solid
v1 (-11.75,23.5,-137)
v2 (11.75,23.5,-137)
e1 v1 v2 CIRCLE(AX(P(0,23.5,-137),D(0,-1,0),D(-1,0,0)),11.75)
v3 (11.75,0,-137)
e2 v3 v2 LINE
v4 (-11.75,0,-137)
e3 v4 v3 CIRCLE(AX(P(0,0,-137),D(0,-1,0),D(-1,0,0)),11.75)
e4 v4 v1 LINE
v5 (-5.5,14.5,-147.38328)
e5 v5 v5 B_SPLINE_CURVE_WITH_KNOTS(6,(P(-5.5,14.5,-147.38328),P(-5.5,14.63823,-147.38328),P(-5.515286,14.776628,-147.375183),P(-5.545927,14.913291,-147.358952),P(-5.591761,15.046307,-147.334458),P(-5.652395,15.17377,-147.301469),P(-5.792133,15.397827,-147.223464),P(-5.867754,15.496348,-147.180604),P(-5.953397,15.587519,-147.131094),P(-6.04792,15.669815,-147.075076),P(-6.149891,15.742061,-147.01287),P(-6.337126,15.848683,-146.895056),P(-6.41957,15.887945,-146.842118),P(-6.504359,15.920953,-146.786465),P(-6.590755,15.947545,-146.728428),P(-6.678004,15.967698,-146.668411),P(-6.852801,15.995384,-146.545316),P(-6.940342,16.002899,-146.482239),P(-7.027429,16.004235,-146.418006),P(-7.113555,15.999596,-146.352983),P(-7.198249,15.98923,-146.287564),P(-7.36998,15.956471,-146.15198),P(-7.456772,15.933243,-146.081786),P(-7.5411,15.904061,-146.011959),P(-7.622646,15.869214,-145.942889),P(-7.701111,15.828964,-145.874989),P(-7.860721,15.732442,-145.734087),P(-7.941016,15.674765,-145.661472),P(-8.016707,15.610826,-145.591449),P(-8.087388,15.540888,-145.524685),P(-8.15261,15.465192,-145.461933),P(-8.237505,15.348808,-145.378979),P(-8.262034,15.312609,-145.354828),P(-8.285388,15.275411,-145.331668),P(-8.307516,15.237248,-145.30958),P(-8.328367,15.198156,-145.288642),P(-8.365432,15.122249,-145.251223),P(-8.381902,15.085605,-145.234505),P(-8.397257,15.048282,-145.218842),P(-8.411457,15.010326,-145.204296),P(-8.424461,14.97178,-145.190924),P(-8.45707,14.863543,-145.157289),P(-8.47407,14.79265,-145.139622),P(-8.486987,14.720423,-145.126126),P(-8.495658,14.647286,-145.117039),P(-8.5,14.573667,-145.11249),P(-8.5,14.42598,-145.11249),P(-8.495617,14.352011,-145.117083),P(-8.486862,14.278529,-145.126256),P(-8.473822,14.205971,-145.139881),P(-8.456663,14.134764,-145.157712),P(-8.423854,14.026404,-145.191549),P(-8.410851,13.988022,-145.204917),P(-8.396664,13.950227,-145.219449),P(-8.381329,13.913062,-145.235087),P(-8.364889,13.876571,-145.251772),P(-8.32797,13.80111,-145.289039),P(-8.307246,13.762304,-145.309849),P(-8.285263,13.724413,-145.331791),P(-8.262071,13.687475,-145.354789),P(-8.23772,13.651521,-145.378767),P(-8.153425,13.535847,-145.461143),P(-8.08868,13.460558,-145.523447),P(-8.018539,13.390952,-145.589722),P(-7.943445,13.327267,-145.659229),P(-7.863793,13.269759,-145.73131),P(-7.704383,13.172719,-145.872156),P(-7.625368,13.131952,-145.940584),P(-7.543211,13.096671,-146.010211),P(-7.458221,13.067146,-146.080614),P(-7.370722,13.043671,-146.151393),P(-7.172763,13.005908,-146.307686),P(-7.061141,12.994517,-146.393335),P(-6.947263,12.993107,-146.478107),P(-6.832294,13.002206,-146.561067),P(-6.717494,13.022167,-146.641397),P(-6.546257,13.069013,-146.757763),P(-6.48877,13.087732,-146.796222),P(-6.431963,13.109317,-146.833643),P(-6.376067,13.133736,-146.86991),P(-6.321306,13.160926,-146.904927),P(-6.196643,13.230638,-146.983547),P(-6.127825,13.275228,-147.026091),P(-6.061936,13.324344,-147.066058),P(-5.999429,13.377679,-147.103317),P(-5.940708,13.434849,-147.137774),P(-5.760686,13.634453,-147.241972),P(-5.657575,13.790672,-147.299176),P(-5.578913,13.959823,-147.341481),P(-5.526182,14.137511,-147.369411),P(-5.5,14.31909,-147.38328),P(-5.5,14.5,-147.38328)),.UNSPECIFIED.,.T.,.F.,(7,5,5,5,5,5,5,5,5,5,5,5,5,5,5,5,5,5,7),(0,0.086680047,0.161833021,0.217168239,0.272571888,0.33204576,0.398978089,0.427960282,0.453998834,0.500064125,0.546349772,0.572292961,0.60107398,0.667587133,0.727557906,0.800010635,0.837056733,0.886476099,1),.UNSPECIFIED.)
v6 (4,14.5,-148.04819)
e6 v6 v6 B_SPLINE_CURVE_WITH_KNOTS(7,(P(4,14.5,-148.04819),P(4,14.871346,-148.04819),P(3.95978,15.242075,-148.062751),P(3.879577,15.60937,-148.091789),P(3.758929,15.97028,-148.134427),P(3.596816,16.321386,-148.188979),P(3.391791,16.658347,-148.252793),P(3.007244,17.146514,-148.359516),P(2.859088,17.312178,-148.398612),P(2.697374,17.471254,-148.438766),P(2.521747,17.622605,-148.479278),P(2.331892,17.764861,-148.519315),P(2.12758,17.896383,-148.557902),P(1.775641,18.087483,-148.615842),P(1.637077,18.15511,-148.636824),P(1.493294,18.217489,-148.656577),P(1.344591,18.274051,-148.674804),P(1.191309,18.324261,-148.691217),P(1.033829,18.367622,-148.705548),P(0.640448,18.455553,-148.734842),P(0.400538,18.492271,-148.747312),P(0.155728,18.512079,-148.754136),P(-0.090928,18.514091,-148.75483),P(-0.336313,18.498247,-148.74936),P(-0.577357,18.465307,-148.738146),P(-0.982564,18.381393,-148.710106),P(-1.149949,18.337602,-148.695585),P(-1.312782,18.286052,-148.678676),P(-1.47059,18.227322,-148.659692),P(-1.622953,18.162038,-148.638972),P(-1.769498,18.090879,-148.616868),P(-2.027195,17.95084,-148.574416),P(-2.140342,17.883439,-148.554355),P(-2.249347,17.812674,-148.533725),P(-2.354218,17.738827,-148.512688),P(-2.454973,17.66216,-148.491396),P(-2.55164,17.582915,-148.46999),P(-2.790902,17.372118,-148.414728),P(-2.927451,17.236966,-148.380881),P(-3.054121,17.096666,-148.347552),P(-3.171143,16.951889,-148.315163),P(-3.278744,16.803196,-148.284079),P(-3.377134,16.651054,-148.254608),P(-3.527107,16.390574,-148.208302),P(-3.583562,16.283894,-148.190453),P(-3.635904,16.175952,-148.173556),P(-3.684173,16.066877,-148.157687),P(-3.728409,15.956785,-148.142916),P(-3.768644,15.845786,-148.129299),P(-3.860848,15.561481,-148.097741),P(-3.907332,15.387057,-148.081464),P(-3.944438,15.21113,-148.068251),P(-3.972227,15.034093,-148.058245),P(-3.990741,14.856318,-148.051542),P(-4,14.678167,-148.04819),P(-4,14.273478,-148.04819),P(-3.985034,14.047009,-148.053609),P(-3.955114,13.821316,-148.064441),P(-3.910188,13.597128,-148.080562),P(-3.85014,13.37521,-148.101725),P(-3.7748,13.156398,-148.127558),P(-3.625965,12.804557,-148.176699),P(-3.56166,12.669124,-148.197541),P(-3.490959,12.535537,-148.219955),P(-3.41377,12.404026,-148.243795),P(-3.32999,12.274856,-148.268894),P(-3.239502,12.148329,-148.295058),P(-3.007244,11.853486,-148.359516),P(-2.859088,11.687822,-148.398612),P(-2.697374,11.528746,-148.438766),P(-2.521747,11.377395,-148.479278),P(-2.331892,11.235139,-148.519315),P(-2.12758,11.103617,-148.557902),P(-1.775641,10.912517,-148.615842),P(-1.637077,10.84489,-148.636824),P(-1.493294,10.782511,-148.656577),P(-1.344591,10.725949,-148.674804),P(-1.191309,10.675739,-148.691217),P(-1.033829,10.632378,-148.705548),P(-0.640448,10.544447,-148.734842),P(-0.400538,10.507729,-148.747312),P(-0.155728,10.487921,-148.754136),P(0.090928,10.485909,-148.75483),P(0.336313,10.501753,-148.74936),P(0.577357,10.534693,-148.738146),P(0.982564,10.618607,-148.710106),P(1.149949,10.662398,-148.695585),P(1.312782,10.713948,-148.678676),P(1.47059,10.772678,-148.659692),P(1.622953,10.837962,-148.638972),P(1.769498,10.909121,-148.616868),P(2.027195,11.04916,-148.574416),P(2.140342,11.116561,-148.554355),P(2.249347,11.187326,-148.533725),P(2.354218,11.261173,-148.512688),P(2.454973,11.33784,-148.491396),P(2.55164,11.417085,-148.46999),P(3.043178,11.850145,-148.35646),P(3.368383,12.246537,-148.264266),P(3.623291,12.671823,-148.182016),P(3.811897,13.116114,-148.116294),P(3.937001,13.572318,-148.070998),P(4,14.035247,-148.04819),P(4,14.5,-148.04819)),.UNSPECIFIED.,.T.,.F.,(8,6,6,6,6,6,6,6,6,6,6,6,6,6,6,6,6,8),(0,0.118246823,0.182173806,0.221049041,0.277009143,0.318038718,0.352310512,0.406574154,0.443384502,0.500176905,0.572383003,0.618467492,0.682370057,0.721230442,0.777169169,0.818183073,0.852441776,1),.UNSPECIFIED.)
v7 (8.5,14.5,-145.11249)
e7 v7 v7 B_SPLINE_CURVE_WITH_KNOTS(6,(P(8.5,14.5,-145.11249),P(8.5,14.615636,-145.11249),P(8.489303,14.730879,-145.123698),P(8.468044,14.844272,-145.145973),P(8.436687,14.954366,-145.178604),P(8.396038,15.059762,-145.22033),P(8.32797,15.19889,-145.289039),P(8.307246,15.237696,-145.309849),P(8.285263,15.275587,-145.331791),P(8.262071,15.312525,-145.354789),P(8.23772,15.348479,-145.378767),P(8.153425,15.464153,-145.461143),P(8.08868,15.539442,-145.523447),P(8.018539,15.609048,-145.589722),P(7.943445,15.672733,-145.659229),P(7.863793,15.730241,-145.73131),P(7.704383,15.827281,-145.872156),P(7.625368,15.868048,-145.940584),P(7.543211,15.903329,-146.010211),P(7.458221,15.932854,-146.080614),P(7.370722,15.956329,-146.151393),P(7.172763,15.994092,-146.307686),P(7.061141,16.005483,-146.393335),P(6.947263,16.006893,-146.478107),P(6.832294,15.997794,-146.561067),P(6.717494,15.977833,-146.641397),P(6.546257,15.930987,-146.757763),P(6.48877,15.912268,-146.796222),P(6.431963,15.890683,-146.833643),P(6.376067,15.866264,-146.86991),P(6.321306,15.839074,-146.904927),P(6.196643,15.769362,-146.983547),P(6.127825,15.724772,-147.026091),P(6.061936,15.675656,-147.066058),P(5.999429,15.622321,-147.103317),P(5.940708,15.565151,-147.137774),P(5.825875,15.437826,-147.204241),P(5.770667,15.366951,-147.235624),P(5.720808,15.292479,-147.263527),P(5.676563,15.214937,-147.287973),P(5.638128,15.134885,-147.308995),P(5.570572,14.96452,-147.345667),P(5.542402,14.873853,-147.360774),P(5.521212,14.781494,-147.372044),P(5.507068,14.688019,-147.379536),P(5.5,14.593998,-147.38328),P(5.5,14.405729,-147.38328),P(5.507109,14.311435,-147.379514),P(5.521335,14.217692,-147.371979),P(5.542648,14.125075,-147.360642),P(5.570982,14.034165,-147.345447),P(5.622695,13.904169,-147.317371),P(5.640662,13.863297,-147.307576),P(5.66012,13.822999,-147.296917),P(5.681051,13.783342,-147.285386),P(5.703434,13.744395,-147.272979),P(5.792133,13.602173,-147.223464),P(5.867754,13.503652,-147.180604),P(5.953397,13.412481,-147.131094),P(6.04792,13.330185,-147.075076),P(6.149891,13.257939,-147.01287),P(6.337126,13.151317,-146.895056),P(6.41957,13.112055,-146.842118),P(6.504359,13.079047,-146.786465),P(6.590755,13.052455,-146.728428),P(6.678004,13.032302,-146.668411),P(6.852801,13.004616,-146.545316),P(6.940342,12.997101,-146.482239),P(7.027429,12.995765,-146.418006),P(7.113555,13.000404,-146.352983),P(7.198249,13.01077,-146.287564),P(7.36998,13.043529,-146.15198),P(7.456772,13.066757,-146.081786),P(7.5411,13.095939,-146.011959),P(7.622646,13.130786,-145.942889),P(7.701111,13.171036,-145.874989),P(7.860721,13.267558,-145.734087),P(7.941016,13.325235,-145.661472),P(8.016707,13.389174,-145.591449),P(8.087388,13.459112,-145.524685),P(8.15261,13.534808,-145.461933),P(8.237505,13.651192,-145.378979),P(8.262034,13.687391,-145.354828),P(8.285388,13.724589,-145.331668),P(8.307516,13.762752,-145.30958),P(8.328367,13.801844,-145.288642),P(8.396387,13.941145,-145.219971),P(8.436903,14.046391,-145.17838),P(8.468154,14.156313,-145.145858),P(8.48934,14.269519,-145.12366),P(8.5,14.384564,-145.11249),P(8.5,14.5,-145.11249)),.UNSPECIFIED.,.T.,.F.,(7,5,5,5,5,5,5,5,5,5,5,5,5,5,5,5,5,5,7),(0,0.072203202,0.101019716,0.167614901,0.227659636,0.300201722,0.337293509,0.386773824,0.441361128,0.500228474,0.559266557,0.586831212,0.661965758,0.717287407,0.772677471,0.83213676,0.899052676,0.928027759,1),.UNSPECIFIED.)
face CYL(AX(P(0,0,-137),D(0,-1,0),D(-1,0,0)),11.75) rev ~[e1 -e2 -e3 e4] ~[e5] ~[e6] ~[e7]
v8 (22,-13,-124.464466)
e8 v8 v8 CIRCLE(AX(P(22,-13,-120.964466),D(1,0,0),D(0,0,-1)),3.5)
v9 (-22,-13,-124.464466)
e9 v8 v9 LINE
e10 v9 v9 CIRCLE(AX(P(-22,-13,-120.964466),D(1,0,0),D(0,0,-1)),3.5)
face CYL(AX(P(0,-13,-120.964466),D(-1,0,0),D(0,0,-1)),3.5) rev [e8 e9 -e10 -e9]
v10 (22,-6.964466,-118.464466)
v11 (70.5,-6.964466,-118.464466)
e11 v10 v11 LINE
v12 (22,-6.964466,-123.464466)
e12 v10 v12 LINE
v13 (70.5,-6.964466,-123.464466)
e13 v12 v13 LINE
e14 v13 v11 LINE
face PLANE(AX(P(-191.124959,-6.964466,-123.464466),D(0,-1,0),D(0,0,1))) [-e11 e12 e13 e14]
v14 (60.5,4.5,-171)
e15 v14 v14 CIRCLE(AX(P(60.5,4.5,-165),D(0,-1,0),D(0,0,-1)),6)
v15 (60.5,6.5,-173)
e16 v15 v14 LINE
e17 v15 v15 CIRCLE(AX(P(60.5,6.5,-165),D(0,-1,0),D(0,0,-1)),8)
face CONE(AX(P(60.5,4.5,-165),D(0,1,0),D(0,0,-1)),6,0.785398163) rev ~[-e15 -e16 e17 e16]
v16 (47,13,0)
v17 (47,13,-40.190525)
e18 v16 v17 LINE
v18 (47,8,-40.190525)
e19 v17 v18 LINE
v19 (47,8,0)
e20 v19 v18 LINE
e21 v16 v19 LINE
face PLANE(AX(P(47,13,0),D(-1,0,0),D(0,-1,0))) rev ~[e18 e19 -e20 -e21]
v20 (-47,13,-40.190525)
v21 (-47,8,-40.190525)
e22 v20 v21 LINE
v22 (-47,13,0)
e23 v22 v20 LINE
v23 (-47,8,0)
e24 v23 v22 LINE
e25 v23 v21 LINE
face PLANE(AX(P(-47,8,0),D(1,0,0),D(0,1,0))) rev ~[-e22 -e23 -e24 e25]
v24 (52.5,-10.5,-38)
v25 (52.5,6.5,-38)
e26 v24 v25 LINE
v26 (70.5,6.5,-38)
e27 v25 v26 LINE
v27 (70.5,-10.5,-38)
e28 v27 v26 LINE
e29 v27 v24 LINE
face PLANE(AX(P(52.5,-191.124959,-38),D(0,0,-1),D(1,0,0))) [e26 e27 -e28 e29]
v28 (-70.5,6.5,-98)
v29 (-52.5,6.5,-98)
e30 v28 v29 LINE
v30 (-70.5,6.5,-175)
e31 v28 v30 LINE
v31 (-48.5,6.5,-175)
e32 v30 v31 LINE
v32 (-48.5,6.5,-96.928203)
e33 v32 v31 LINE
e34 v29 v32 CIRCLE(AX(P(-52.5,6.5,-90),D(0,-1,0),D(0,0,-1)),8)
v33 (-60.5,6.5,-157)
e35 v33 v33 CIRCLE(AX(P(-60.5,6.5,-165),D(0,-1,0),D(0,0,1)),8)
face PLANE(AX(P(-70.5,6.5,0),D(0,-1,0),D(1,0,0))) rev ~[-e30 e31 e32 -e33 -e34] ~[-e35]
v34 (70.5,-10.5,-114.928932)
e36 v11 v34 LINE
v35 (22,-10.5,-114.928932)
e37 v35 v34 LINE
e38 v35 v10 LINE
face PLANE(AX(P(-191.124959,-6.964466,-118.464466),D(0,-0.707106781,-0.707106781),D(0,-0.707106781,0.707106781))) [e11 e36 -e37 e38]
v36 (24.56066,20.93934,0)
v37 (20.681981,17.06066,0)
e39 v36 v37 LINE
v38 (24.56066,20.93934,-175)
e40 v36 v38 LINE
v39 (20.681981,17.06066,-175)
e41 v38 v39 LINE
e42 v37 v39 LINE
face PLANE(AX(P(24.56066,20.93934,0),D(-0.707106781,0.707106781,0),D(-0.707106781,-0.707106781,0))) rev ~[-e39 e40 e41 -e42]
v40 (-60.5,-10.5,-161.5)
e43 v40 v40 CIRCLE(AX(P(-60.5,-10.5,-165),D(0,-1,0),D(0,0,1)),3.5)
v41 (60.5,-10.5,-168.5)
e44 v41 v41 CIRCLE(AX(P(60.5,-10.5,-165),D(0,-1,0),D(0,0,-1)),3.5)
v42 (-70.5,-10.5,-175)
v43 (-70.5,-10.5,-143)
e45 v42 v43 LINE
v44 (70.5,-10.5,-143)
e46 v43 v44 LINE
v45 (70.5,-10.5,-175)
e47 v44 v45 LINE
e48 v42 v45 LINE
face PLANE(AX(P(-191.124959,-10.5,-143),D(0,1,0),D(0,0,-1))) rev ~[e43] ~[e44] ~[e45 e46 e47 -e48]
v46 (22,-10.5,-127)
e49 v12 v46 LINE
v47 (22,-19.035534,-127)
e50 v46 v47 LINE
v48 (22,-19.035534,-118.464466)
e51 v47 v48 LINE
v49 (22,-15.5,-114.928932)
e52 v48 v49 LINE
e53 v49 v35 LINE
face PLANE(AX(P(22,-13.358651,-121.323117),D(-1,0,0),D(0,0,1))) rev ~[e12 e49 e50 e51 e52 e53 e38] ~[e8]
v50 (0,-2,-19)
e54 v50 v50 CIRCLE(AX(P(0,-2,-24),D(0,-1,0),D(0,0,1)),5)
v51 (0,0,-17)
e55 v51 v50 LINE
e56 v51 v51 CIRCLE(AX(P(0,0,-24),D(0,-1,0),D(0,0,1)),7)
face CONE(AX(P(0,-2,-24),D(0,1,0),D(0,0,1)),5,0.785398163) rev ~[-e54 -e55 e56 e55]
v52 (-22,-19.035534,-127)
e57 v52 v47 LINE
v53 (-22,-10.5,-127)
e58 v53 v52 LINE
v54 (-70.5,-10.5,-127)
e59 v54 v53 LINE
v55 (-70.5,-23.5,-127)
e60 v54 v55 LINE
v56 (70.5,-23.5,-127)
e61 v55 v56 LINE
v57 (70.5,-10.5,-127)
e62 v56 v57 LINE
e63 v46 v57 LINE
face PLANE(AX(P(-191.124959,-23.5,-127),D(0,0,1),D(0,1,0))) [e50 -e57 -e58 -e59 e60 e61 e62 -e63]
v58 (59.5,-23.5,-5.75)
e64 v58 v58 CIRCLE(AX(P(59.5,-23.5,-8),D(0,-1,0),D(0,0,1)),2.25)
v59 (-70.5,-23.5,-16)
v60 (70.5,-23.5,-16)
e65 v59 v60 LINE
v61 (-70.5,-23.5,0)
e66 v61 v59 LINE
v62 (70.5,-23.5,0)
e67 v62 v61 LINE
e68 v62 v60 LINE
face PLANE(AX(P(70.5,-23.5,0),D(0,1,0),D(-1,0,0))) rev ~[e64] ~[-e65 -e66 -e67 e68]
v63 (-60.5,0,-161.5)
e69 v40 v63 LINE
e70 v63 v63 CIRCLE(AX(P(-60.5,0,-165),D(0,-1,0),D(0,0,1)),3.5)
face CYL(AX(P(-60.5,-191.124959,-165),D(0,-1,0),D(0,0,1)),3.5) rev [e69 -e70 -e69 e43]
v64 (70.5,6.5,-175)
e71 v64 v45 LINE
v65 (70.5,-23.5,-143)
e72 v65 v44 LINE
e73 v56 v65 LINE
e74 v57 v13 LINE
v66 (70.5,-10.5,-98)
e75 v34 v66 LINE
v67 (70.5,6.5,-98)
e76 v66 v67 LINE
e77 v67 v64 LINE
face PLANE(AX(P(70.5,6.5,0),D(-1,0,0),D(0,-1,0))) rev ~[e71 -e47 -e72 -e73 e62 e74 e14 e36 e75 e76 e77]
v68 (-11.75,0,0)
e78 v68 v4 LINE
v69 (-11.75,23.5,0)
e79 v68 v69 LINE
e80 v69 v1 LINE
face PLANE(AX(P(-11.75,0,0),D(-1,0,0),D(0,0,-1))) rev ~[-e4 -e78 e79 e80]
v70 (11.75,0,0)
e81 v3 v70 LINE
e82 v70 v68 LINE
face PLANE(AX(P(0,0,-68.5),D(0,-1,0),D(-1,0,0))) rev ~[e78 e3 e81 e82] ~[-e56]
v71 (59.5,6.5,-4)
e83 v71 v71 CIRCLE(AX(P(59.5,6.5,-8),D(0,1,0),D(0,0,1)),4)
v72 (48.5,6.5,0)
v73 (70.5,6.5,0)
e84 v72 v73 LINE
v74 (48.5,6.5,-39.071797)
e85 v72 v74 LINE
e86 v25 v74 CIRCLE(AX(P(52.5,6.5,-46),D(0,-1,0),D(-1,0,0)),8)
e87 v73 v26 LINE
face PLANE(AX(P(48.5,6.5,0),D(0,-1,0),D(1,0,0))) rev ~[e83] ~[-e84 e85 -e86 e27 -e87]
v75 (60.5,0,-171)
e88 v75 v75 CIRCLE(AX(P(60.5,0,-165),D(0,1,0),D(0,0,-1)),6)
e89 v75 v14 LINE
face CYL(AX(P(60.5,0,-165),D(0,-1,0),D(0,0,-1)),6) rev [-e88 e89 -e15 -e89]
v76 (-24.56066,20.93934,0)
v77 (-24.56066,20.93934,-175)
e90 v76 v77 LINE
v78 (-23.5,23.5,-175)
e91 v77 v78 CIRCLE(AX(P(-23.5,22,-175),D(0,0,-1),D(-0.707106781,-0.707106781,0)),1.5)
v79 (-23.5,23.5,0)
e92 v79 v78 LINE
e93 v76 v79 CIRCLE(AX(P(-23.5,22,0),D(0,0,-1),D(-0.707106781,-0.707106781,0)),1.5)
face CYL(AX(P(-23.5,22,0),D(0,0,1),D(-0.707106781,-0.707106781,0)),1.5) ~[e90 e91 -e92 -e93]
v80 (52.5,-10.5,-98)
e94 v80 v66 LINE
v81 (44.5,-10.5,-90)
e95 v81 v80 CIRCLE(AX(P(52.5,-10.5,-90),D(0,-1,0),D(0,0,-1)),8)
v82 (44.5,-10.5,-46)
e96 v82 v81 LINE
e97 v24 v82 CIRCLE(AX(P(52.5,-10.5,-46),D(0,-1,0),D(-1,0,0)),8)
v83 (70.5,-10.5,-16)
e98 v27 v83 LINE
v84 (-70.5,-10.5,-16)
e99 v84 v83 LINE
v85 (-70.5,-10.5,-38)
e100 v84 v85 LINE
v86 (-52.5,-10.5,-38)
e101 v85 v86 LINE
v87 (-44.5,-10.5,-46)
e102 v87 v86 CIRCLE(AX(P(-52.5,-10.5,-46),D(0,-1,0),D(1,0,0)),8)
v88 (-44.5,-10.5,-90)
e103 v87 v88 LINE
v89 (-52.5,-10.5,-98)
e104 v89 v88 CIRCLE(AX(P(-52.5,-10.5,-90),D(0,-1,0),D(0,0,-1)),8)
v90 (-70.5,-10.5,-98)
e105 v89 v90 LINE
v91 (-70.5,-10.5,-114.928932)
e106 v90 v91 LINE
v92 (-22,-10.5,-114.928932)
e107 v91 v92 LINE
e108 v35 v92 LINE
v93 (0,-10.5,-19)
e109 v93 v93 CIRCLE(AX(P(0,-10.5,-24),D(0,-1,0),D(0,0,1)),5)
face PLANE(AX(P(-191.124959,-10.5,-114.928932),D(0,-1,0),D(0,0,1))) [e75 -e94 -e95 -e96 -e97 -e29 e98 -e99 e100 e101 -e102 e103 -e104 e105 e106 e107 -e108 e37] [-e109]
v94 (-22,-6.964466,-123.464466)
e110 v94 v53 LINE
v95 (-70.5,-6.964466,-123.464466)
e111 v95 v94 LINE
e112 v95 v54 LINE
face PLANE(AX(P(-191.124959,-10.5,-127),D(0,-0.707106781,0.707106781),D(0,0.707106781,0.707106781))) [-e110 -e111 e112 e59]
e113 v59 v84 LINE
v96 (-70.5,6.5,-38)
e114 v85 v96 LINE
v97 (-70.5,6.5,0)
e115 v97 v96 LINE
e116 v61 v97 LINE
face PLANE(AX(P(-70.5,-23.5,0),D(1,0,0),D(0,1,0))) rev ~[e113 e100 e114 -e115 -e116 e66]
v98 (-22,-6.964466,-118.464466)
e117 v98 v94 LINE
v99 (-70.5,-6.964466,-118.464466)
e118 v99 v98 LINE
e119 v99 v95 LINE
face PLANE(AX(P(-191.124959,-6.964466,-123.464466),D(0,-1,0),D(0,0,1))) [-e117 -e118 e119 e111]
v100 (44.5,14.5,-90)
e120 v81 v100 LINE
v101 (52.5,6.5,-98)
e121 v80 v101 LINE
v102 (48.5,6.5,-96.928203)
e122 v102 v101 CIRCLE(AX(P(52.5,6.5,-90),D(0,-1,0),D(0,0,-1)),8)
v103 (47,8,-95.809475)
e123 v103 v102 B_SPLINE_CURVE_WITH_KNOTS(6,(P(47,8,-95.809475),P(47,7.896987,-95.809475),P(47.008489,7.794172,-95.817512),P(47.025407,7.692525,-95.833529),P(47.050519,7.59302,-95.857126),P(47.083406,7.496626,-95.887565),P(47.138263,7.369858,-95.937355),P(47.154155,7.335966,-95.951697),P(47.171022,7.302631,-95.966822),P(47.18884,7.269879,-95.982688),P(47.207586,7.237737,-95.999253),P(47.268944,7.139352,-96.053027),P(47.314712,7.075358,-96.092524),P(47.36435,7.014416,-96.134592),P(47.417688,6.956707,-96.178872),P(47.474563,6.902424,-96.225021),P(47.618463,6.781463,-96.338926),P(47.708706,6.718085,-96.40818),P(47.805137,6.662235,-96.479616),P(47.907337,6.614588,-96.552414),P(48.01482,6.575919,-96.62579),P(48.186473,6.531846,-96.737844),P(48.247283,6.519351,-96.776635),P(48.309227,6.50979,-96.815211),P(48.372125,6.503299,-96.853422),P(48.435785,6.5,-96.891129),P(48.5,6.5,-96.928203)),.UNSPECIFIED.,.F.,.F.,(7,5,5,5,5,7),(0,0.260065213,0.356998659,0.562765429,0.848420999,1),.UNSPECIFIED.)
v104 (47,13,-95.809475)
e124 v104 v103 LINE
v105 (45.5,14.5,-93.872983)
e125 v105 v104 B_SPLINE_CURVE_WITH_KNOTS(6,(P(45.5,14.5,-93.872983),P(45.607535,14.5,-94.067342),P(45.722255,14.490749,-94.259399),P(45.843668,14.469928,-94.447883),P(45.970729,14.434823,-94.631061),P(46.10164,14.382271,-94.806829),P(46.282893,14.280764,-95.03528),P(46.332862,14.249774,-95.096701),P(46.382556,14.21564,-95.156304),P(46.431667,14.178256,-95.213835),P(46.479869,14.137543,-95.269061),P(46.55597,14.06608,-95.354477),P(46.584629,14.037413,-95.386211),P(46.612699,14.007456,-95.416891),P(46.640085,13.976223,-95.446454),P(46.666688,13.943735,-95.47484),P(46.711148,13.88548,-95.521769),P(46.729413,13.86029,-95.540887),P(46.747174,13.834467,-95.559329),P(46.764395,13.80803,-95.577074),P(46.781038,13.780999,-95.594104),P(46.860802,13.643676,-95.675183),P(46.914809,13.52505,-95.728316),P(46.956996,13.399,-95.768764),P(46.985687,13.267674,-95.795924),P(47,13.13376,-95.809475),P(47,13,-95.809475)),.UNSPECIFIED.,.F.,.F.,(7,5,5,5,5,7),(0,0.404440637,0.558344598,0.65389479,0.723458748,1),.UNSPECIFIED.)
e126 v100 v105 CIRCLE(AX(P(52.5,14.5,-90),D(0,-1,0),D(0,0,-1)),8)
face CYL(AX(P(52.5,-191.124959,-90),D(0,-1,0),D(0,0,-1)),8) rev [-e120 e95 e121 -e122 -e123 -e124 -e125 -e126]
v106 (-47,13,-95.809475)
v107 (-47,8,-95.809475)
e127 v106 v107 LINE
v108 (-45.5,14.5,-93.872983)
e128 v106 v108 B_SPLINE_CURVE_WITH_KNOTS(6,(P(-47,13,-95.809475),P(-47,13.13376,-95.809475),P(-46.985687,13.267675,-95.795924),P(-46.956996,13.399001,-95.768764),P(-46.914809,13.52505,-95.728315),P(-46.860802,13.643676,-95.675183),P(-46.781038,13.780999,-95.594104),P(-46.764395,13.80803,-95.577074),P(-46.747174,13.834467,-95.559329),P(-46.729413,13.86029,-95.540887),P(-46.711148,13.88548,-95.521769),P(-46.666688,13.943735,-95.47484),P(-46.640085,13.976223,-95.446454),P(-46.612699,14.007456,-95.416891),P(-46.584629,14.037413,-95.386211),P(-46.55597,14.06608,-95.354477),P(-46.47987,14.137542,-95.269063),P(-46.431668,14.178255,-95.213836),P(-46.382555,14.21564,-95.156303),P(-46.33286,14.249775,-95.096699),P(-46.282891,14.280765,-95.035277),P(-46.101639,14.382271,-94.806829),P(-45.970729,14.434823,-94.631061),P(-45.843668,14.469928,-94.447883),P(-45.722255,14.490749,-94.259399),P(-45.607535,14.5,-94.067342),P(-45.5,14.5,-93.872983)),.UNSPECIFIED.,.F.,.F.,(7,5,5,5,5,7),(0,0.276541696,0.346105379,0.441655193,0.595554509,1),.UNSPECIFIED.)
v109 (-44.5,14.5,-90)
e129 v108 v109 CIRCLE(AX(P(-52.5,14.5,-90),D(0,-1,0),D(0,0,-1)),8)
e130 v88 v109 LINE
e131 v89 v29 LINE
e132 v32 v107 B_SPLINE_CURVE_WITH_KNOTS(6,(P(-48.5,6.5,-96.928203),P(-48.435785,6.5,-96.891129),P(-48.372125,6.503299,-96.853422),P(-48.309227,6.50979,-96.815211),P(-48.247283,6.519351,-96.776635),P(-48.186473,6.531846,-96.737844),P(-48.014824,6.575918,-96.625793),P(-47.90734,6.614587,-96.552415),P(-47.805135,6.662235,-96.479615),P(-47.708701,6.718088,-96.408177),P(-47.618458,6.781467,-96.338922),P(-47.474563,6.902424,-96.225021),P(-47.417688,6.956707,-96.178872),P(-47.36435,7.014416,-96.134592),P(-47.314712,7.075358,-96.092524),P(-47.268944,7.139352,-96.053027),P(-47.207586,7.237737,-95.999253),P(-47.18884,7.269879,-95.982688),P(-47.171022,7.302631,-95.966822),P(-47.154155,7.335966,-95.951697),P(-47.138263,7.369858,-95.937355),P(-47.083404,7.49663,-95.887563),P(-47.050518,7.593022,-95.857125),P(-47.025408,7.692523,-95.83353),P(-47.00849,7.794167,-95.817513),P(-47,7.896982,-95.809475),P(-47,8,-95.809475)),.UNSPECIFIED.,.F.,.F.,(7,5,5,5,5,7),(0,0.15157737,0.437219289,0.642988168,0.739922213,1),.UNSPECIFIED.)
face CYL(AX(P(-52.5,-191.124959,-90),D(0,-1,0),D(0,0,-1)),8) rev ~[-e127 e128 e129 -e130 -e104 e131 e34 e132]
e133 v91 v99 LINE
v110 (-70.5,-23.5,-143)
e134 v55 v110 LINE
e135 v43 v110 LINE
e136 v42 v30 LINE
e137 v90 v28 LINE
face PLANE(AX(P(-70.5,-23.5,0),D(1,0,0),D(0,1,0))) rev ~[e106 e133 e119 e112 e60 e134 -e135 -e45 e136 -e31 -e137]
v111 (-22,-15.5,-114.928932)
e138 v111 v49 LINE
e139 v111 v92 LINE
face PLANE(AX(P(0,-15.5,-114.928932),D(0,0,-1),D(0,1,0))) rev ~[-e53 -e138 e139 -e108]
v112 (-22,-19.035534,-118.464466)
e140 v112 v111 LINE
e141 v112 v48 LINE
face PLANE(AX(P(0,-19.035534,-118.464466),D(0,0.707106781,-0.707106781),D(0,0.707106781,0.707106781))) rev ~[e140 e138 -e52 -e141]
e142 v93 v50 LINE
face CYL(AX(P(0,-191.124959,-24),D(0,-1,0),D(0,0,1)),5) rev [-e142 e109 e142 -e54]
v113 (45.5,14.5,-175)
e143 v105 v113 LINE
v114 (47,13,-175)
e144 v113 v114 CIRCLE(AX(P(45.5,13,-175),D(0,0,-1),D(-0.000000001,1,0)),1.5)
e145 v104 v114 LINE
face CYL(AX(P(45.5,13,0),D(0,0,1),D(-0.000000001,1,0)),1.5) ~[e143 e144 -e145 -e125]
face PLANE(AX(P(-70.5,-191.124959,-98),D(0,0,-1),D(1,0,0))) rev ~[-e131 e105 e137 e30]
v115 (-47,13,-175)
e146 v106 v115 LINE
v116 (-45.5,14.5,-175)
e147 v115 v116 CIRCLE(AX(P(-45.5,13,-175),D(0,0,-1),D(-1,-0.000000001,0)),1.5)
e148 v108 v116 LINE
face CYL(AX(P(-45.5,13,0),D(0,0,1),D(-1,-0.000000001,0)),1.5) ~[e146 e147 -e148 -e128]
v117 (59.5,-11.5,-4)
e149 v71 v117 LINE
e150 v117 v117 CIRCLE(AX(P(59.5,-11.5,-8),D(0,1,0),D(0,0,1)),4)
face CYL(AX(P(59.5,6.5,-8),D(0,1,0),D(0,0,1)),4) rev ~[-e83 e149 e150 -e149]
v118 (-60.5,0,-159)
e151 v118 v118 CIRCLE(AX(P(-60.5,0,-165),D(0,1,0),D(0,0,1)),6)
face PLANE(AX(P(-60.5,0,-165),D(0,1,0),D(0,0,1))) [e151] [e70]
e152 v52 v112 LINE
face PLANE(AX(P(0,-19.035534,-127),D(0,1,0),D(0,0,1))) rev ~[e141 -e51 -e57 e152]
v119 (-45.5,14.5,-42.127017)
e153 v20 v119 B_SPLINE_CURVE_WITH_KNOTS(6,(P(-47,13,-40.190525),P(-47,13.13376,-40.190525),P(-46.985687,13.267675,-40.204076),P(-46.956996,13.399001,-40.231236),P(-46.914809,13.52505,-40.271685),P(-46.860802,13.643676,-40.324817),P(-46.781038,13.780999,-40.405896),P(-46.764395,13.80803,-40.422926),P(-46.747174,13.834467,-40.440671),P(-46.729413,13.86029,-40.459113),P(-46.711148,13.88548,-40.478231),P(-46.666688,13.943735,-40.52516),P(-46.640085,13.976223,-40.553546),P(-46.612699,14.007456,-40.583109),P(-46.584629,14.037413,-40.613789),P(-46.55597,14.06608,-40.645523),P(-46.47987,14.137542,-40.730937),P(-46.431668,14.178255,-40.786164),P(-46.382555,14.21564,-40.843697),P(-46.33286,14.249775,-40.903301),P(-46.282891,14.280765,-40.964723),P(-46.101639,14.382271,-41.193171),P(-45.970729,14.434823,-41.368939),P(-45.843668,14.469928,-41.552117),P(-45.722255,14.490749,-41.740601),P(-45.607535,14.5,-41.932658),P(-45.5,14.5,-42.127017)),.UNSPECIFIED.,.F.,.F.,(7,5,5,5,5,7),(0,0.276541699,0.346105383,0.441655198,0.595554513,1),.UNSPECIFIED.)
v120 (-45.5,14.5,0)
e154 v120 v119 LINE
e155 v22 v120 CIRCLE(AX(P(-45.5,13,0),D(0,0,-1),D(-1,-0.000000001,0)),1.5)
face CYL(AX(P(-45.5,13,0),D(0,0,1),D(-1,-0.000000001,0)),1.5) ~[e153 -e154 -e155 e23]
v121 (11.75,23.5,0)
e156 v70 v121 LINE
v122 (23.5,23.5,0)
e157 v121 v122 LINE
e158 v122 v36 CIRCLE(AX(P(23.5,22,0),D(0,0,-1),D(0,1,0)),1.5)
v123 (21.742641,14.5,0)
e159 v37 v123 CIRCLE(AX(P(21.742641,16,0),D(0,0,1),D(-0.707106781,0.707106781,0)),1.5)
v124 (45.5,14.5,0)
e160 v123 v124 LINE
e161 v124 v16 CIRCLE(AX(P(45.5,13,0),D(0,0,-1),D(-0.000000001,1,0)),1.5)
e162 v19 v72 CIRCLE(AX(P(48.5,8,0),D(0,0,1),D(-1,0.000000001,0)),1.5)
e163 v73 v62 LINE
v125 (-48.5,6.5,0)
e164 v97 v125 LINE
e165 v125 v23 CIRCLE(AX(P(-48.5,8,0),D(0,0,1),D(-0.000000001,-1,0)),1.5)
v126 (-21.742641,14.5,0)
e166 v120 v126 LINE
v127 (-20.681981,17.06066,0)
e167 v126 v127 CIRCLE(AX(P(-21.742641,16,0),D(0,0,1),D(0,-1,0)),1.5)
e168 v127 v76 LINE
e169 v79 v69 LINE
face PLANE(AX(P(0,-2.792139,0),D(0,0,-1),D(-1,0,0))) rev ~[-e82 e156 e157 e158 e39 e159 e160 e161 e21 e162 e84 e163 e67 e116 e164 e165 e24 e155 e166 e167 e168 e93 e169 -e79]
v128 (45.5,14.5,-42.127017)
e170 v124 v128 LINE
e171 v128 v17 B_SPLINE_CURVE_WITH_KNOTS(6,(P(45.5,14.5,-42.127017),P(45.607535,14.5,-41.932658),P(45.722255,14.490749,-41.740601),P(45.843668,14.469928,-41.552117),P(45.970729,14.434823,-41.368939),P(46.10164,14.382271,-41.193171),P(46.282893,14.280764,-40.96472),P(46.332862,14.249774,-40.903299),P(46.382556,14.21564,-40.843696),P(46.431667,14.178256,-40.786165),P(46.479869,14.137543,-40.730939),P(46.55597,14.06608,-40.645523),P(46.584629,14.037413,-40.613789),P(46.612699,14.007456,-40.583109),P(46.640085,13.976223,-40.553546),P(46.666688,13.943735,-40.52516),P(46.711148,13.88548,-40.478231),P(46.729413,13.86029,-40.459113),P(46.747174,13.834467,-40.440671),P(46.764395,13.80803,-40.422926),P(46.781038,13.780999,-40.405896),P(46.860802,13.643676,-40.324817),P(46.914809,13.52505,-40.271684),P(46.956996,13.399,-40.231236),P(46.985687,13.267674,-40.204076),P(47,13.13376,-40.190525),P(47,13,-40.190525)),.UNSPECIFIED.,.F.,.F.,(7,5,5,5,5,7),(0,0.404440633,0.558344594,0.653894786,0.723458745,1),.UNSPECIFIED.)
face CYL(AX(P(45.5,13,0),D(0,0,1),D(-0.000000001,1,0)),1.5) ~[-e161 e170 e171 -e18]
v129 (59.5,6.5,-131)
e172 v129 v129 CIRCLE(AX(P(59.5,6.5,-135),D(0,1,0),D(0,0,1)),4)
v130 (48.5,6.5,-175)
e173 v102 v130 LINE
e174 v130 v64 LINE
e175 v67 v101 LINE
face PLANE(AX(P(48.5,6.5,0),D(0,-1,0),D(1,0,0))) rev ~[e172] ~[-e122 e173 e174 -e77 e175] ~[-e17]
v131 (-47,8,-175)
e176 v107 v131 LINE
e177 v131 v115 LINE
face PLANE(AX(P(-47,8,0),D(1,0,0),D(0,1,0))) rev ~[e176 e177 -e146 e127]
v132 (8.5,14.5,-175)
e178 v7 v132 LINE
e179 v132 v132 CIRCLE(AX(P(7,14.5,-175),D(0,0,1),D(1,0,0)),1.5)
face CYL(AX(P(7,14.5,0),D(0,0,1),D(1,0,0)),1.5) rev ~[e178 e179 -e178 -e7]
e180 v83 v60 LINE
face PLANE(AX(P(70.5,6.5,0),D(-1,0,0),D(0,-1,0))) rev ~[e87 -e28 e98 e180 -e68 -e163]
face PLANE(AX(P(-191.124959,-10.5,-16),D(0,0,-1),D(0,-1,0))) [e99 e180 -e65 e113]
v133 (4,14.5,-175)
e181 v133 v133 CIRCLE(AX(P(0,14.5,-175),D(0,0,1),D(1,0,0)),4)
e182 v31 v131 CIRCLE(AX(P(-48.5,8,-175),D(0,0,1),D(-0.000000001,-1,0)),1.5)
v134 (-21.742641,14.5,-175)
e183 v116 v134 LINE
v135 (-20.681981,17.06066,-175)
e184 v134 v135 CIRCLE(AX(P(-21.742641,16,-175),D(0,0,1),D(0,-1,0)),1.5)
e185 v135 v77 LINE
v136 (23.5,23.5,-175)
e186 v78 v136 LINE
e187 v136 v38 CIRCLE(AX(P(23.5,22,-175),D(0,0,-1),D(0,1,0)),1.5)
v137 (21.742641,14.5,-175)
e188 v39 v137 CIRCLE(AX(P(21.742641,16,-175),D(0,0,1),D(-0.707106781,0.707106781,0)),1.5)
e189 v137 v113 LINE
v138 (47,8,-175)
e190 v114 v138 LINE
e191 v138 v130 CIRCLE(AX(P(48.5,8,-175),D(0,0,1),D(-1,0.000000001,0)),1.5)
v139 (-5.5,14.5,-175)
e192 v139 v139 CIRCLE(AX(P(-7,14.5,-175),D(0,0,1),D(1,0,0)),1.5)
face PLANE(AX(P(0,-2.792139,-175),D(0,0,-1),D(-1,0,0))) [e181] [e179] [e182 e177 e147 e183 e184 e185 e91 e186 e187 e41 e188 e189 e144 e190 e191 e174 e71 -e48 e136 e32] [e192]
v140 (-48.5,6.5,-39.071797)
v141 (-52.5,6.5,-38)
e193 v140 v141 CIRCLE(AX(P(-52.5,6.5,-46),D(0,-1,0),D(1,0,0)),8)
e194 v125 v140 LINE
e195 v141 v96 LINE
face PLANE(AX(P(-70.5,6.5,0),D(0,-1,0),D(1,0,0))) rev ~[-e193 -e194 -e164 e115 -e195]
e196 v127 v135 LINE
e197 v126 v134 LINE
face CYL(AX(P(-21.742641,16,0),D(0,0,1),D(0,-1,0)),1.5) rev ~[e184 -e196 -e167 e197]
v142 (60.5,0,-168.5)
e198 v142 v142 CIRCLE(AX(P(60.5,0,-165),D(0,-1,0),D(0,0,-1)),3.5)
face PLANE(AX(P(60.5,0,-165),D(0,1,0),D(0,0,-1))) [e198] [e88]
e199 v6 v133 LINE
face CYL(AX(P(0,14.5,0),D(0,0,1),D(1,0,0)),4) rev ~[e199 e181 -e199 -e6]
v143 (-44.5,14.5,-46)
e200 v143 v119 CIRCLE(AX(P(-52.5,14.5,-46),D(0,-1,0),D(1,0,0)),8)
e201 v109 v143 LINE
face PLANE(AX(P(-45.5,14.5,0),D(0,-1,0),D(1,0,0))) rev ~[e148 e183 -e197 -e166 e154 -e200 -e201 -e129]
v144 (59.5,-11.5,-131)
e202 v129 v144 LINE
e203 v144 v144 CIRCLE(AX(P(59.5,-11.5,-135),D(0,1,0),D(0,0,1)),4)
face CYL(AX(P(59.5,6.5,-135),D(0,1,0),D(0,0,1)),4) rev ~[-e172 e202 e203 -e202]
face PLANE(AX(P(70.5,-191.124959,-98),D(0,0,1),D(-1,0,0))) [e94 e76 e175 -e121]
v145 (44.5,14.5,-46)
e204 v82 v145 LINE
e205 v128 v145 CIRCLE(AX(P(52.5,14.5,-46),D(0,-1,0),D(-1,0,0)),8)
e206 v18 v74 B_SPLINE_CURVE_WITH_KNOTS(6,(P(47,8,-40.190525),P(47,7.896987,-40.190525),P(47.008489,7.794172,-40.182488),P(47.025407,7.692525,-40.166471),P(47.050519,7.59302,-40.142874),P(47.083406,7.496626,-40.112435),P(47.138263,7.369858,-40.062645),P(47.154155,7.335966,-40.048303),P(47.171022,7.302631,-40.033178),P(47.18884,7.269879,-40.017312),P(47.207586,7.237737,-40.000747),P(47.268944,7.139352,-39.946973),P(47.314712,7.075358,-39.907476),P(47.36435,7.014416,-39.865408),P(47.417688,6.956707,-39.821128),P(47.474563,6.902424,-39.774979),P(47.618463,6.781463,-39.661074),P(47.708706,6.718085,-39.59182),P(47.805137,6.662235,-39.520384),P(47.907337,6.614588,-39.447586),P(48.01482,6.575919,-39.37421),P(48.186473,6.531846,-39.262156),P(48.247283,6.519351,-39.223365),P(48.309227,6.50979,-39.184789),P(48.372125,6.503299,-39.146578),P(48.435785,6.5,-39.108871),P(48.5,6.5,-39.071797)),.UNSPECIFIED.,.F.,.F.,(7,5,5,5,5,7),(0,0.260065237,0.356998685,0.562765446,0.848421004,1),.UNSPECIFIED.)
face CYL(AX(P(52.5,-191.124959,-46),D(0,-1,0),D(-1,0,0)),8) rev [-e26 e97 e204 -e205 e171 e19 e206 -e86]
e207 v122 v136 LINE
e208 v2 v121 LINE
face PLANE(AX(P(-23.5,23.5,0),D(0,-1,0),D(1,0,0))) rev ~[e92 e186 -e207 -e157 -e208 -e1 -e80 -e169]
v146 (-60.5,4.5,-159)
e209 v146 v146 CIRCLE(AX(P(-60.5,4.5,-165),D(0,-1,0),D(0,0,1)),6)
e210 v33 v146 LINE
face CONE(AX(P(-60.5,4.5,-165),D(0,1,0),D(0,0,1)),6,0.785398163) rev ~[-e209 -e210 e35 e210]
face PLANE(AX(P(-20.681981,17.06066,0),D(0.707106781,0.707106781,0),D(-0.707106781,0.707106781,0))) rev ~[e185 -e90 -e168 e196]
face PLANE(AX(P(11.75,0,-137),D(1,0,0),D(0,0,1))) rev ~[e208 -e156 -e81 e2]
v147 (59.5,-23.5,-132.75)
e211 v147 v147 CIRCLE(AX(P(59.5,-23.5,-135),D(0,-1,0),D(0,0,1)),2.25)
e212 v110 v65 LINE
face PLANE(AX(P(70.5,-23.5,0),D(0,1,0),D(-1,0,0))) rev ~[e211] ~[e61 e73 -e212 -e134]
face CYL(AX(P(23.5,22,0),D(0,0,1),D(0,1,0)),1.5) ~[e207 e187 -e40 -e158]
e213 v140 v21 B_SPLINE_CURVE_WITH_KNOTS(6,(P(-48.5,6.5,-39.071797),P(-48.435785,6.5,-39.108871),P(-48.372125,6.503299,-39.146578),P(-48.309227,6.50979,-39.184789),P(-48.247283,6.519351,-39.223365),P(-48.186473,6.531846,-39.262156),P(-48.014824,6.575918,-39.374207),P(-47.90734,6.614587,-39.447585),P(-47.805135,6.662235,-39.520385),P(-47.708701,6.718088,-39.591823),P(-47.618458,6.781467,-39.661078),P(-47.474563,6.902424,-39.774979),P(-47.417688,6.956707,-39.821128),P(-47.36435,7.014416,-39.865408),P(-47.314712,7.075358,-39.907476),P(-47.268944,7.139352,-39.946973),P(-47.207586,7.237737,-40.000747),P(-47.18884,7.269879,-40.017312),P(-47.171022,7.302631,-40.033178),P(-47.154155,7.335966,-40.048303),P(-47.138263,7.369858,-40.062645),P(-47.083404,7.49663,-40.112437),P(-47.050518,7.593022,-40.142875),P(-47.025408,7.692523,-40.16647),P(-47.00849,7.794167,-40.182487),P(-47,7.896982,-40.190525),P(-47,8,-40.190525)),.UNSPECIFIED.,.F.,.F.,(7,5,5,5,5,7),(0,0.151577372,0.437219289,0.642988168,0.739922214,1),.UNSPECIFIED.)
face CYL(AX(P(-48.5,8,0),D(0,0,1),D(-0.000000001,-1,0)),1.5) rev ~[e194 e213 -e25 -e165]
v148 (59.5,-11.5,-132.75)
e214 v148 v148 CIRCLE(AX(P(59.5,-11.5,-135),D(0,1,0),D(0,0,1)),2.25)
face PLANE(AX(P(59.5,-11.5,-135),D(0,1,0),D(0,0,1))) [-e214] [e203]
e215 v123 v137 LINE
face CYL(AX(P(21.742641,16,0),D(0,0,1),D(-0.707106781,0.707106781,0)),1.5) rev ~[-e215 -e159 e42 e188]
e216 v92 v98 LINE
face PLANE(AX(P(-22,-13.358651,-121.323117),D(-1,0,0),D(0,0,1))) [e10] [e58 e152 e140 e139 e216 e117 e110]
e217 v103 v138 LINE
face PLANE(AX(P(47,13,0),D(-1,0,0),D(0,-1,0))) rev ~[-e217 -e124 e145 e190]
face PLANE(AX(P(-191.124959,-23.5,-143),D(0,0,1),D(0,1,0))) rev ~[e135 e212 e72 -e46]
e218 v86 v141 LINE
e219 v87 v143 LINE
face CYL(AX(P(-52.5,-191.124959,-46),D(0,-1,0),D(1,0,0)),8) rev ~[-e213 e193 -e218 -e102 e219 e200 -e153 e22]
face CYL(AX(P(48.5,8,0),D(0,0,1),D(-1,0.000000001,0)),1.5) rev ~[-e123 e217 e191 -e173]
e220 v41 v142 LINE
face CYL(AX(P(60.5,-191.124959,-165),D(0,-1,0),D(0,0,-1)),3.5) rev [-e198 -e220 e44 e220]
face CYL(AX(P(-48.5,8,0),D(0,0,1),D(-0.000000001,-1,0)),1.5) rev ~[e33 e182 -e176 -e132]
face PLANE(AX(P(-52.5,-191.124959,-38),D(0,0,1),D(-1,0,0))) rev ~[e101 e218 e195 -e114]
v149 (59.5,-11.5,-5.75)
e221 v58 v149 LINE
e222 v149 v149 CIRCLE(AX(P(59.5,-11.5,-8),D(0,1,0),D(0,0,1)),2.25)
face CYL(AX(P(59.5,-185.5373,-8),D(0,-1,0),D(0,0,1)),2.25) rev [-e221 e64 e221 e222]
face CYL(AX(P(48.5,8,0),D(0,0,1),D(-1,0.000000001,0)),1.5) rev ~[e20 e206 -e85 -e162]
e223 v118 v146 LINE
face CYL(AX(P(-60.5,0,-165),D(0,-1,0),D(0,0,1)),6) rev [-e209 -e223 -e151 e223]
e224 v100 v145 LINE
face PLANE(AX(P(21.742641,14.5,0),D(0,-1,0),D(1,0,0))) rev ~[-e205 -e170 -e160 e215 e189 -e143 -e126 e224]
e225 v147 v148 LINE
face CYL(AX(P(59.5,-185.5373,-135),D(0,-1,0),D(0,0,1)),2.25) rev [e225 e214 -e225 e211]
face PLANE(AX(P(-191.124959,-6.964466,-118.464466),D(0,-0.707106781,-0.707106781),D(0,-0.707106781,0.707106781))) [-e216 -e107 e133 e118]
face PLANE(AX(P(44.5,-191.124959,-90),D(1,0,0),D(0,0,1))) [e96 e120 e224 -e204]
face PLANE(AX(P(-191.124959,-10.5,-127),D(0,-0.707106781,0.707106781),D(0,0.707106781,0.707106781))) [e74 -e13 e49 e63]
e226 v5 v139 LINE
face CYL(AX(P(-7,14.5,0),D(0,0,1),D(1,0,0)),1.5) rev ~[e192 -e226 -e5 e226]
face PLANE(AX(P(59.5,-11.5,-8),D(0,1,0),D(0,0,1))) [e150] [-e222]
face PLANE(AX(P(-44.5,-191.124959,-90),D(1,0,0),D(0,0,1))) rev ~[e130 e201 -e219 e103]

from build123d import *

# Parameters (mm, degrees)
SKETCH1_R               = 4
SKETCH1_R_2             = 1.5
BOSS_EXTRUDE1_DEPTH     = 175
SKETCH2_R               = 6
CUT_EXTRUDE1_DEPTH      = 191.124958909
CUT_EXTRUDE2_DEPTH      = 191.124959013
CUT_EXTRUDE2_DEPTH_BACK = 191.124959013
SKETCH3_R               = 3.5
SKETCH3_R_2             = 5
CUT_EXTRUDE3_DEPTH      = 191.124959013
CUT_EXTRUDE3_DEPTH_BACK = 191.124959013
SKETCH4_W               = 32
SKETCH4_H               = 13
CHAMFER1_SIZE           = 2
SKETCH5_R               = 3.5
BOSS_EXTRUDE2_DEPTH     = 22
SKETCH6_R               = 4
SKETCH6_R_2             = 2.25
CUT_EXTRUDE4_DEPTH      = 18
CUT_EXTRUDE5_DEPTH      = 192.037300114
CUT_EXTRUDE5_DEPTH_BACK = 192.037300114
SKETCH6_2_R             = 2.25


with BuildPart() as part:
    # Sketch1 → Boss-Extrude1 (new body)
    with BuildSketch(Plane.XY):
        with BuildLine():
            Line((24.560660172, 20.939339828), (20.681980515, 17.060660172))
            ThreePointArc((20.681980515, 17.060660172), (20.356821388, 15.425974851), (21.742640687, 14.5))
            Line((21.742640687, 14.5), (45.5, 14.5))
            ThreePointArc((45.5, 14.5), (46.560660172, 14.060660172), (47, 13))
            Line((47, 13), (47, 8))
            ThreePointArc((47, 8), (47.439339828, 6.939339828), (48.5, 6.5))
            Line((48.5, 6.5), (70.5, 6.5))
            Line((70.5, 6.5), (70.5, -23.5))
            Line((70.5, -23.5), (-70.5, -23.5))
            Line((-70.5, -23.5), (-70.5, 6.5))
            Line((-70.5, 6.5), (-48.5, 6.5))
            ThreePointArc((-48.5, 6.5), (-47.439339828, 6.939339828), (-47, 8))
            Line((-47, 8), (-47, 13))
            ThreePointArc((-47, 13), (-46.560660172, 14.060660172), (-45.5, 14.5))
            Line((-45.5, 14.5), (-21.742640687, 14.5))
            ThreePointArc((-21.742640687, 14.5), (-20.356821388, 15.425974851), (-20.681980515, 17.060660172))
            Line((-20.681980515, 17.060660172), (-24.560660172, 20.939339828))
            ThreePointArc((-24.560660172, 20.939339828), (-24.885819299, 22.574025149), (-23.5, 23.5))
            Line((-23.5, 23.5), (23.5, 23.5))
            ThreePointArc((23.5, 23.5), (24.885819299, 22.574025149), (24.560660172, 20.939339828))
        make_face()
        with Locations((0, 14.5)):
            Circle(SKETCH1_R, mode=Mode.SUBTRACT)
        with Locations((7, 14.5)):
            Circle(SKETCH1_R_2, mode=Mode.SUBTRACT)
        with Locations((-7, 14.5)):
            Circle(SKETCH1_R_2, mode=Mode.SUBTRACT)
    extrude(amount=-BOSS_EXTRUDE1_DEPTH)

    # Sketch2 → Cut-Extrude1 (cut, through all)
    with BuildSketch(Plane(origin=(0, 0, 0), x_dir=(1, 0, 0), z_dir=(0, 1, 0))):
        with Locations((-60.5, 165)):
            Circle(SKETCH2_R)
        with Locations((60.5, 165)):
            Circle(SKETCH2_R)
        with BuildLine():
            Line((-11.75, 0), (-11.75, 137))
            ThreePointArc((-11.75, 137), (0, 148.75), (11.75, 137))
            Line((11.75, 137), (11.75, 0))
            ThreePointArc((11.75, 0), (0, -11.75), (-11.75, 0))
        make_face()
    extrude(amount=CUT_EXTRUDE1_DEPTH, mode=Mode.SUBTRACT)

    # Sketch3 → Cut-Extrude2 (cut, two sides: drawn at the far end of the back side and taken through both)
    with BuildSketch(Plane(origin=(0, 0, 0), x_dir=(1, 0, 0), z_dir=(0, 1, 0)).offset(-CUT_EXTRUDE2_DEPTH_BACK)):
        with Locations((-60.5, 165)):
            Circle(SKETCH3_R)
        with Locations((0, 24)):
            Circle(SKETCH3_R_2)
        with Locations((60.5, 165)):
            Circle(SKETCH3_R)
        with BuildLine():
            Line((-70.5, 98), (-52.5, 98))
            ThreePointArc((-52.5, 98), (-46.843145751, 95.656854249), (-44.5, 90))
            Line((-44.5, 90), (-44.5, 46))
            ThreePointArc((-44.5, 46), (-46.843145751, 40.343145751), (-52.5, 38))
            Line((-52.5, 38), (-70.5, 38))
            Line((-70.5, 38), (-70.5, 98))
        make_face()
        with BuildLine():
            Line((70.5, 38), (70.5, 98))
            Line((70.5, 98), (52.5, 98))
            ThreePointArc((52.5, 98), (46.843145751, 95.656854249), (44.5, 90))
            Line((44.5, 90), (44.5, 46))
            ThreePointArc((44.5, 46), (46.843145751, 40.343145751), (52.5, 38))
            Line((52.5, 38), (70.5, 38))
        make_face()
    extrude(amount=CUT_EXTRUDE2_DEPTH + CUT_EXTRUDE2_DEPTH_BACK, mode=Mode.SUBTRACT)

    # Sketch4 → Cut-Extrude3 (cut, two sides: drawn at the far end of the back side and taken through both)
    with BuildSketch(Plane(origin=(0, 0, 0), x_dir=(0, 0, -1), z_dir=(1, 0, 0)).offset(-CUT_EXTRUDE3_DEPTH_BACK)):
        with Locations((159, -17)):
            Rectangle(SKETCH4_W, SKETCH4_H)
        Polygon((127, -23.5), (127, -10.5), (123.464466094, -6.964466094), (118.464466094, -6.964466094), (114.928932188, -10.5), (16, -10.5), (16, -23.5), align=None)
    extrude(amount=CUT_EXTRUDE3_DEPTH + CUT_EXTRUDE3_DEPTH_BACK, mode=Mode.SUBTRACT)

    # Chamfer1
    chamfer1_edges = [part.edges().sort_by_distance(p)[0] for p in [
        (-5, 0, -24),
        (-66.5, 6.5, -165),
        (54.5, 6.5, -165),
    ]]
    chamfer(chamfer1_edges, length=CHAMFER1_SIZE)

    # Sketch5 → Boss-Extrude2 (add, symmetric)
    with BuildSketch(Plane(origin=(0, 0, 0), x_dir=(0, 0, -1), z_dir=(1, 0, 0))):
        Polygon((118.464466094, -19.035533906), (127, -19.035533906), (127, -10.5), (123.464466094, -6.964466094), (118.464466094, -6.964466094), (114.928932188, -10.5), (114.928932188, -15.5), align=None)
        with Locations((120.964466094, -13)):
            Circle(SKETCH5_R, mode=Mode.SUBTRACT)
    extrude(amount=BOSS_EXTRUDE2_DEPTH, both=True)

    # Sketch6 → Cut-Extrude4 (cut)
    # profile 1 of 2: a face of its own
    with BuildSketch(Plane(origin=(0, 6.5, 0), x_dir=(1, 0, 0), z_dir=(0, 1, 0))):
        with Locations((59.5, 8)):
            Circle(SKETCH6_R)
        with Locations((59.5, 8)):
            Circle(SKETCH6_R_2, mode=Mode.SUBTRACT)
    # profile 2 of 2: a face of its own
    with BuildSketch(Plane(origin=(0, 6.5, 0), x_dir=(1, 0, 0), z_dir=(0, 1, 0))):
        with Locations((59.5, 135)):
            Circle(SKETCH6_R)
        with Locations((59.5, 135)):
            Circle(SKETCH6_R_2, mode=Mode.SUBTRACT)
    extrude(amount=-CUT_EXTRUDE4_DEPTH, mode=Mode.SUBTRACT)

    # Sketch6<2> → Cut-Extrude5 (cut, two sides: drawn at the far end of the back side and taken through both)
    with BuildSketch(Plane(origin=(0, 6.5, 0), x_dir=(1, 0, 0), z_dir=(0, 1, 0)).offset(-CUT_EXTRUDE5_DEPTH_BACK)):
        with Locations((59.5, 8)):
            Circle(SKETCH6_2_R)
        with Locations((59.5, 135)):
            Circle(SKETCH6_2_R)
    extrude(amount=CUT_EXTRUDE5_DEPTH + CUT_EXTRUDE5_DEPTH_BACK, mode=Mode.SUBTRACT)


solid = part.part
